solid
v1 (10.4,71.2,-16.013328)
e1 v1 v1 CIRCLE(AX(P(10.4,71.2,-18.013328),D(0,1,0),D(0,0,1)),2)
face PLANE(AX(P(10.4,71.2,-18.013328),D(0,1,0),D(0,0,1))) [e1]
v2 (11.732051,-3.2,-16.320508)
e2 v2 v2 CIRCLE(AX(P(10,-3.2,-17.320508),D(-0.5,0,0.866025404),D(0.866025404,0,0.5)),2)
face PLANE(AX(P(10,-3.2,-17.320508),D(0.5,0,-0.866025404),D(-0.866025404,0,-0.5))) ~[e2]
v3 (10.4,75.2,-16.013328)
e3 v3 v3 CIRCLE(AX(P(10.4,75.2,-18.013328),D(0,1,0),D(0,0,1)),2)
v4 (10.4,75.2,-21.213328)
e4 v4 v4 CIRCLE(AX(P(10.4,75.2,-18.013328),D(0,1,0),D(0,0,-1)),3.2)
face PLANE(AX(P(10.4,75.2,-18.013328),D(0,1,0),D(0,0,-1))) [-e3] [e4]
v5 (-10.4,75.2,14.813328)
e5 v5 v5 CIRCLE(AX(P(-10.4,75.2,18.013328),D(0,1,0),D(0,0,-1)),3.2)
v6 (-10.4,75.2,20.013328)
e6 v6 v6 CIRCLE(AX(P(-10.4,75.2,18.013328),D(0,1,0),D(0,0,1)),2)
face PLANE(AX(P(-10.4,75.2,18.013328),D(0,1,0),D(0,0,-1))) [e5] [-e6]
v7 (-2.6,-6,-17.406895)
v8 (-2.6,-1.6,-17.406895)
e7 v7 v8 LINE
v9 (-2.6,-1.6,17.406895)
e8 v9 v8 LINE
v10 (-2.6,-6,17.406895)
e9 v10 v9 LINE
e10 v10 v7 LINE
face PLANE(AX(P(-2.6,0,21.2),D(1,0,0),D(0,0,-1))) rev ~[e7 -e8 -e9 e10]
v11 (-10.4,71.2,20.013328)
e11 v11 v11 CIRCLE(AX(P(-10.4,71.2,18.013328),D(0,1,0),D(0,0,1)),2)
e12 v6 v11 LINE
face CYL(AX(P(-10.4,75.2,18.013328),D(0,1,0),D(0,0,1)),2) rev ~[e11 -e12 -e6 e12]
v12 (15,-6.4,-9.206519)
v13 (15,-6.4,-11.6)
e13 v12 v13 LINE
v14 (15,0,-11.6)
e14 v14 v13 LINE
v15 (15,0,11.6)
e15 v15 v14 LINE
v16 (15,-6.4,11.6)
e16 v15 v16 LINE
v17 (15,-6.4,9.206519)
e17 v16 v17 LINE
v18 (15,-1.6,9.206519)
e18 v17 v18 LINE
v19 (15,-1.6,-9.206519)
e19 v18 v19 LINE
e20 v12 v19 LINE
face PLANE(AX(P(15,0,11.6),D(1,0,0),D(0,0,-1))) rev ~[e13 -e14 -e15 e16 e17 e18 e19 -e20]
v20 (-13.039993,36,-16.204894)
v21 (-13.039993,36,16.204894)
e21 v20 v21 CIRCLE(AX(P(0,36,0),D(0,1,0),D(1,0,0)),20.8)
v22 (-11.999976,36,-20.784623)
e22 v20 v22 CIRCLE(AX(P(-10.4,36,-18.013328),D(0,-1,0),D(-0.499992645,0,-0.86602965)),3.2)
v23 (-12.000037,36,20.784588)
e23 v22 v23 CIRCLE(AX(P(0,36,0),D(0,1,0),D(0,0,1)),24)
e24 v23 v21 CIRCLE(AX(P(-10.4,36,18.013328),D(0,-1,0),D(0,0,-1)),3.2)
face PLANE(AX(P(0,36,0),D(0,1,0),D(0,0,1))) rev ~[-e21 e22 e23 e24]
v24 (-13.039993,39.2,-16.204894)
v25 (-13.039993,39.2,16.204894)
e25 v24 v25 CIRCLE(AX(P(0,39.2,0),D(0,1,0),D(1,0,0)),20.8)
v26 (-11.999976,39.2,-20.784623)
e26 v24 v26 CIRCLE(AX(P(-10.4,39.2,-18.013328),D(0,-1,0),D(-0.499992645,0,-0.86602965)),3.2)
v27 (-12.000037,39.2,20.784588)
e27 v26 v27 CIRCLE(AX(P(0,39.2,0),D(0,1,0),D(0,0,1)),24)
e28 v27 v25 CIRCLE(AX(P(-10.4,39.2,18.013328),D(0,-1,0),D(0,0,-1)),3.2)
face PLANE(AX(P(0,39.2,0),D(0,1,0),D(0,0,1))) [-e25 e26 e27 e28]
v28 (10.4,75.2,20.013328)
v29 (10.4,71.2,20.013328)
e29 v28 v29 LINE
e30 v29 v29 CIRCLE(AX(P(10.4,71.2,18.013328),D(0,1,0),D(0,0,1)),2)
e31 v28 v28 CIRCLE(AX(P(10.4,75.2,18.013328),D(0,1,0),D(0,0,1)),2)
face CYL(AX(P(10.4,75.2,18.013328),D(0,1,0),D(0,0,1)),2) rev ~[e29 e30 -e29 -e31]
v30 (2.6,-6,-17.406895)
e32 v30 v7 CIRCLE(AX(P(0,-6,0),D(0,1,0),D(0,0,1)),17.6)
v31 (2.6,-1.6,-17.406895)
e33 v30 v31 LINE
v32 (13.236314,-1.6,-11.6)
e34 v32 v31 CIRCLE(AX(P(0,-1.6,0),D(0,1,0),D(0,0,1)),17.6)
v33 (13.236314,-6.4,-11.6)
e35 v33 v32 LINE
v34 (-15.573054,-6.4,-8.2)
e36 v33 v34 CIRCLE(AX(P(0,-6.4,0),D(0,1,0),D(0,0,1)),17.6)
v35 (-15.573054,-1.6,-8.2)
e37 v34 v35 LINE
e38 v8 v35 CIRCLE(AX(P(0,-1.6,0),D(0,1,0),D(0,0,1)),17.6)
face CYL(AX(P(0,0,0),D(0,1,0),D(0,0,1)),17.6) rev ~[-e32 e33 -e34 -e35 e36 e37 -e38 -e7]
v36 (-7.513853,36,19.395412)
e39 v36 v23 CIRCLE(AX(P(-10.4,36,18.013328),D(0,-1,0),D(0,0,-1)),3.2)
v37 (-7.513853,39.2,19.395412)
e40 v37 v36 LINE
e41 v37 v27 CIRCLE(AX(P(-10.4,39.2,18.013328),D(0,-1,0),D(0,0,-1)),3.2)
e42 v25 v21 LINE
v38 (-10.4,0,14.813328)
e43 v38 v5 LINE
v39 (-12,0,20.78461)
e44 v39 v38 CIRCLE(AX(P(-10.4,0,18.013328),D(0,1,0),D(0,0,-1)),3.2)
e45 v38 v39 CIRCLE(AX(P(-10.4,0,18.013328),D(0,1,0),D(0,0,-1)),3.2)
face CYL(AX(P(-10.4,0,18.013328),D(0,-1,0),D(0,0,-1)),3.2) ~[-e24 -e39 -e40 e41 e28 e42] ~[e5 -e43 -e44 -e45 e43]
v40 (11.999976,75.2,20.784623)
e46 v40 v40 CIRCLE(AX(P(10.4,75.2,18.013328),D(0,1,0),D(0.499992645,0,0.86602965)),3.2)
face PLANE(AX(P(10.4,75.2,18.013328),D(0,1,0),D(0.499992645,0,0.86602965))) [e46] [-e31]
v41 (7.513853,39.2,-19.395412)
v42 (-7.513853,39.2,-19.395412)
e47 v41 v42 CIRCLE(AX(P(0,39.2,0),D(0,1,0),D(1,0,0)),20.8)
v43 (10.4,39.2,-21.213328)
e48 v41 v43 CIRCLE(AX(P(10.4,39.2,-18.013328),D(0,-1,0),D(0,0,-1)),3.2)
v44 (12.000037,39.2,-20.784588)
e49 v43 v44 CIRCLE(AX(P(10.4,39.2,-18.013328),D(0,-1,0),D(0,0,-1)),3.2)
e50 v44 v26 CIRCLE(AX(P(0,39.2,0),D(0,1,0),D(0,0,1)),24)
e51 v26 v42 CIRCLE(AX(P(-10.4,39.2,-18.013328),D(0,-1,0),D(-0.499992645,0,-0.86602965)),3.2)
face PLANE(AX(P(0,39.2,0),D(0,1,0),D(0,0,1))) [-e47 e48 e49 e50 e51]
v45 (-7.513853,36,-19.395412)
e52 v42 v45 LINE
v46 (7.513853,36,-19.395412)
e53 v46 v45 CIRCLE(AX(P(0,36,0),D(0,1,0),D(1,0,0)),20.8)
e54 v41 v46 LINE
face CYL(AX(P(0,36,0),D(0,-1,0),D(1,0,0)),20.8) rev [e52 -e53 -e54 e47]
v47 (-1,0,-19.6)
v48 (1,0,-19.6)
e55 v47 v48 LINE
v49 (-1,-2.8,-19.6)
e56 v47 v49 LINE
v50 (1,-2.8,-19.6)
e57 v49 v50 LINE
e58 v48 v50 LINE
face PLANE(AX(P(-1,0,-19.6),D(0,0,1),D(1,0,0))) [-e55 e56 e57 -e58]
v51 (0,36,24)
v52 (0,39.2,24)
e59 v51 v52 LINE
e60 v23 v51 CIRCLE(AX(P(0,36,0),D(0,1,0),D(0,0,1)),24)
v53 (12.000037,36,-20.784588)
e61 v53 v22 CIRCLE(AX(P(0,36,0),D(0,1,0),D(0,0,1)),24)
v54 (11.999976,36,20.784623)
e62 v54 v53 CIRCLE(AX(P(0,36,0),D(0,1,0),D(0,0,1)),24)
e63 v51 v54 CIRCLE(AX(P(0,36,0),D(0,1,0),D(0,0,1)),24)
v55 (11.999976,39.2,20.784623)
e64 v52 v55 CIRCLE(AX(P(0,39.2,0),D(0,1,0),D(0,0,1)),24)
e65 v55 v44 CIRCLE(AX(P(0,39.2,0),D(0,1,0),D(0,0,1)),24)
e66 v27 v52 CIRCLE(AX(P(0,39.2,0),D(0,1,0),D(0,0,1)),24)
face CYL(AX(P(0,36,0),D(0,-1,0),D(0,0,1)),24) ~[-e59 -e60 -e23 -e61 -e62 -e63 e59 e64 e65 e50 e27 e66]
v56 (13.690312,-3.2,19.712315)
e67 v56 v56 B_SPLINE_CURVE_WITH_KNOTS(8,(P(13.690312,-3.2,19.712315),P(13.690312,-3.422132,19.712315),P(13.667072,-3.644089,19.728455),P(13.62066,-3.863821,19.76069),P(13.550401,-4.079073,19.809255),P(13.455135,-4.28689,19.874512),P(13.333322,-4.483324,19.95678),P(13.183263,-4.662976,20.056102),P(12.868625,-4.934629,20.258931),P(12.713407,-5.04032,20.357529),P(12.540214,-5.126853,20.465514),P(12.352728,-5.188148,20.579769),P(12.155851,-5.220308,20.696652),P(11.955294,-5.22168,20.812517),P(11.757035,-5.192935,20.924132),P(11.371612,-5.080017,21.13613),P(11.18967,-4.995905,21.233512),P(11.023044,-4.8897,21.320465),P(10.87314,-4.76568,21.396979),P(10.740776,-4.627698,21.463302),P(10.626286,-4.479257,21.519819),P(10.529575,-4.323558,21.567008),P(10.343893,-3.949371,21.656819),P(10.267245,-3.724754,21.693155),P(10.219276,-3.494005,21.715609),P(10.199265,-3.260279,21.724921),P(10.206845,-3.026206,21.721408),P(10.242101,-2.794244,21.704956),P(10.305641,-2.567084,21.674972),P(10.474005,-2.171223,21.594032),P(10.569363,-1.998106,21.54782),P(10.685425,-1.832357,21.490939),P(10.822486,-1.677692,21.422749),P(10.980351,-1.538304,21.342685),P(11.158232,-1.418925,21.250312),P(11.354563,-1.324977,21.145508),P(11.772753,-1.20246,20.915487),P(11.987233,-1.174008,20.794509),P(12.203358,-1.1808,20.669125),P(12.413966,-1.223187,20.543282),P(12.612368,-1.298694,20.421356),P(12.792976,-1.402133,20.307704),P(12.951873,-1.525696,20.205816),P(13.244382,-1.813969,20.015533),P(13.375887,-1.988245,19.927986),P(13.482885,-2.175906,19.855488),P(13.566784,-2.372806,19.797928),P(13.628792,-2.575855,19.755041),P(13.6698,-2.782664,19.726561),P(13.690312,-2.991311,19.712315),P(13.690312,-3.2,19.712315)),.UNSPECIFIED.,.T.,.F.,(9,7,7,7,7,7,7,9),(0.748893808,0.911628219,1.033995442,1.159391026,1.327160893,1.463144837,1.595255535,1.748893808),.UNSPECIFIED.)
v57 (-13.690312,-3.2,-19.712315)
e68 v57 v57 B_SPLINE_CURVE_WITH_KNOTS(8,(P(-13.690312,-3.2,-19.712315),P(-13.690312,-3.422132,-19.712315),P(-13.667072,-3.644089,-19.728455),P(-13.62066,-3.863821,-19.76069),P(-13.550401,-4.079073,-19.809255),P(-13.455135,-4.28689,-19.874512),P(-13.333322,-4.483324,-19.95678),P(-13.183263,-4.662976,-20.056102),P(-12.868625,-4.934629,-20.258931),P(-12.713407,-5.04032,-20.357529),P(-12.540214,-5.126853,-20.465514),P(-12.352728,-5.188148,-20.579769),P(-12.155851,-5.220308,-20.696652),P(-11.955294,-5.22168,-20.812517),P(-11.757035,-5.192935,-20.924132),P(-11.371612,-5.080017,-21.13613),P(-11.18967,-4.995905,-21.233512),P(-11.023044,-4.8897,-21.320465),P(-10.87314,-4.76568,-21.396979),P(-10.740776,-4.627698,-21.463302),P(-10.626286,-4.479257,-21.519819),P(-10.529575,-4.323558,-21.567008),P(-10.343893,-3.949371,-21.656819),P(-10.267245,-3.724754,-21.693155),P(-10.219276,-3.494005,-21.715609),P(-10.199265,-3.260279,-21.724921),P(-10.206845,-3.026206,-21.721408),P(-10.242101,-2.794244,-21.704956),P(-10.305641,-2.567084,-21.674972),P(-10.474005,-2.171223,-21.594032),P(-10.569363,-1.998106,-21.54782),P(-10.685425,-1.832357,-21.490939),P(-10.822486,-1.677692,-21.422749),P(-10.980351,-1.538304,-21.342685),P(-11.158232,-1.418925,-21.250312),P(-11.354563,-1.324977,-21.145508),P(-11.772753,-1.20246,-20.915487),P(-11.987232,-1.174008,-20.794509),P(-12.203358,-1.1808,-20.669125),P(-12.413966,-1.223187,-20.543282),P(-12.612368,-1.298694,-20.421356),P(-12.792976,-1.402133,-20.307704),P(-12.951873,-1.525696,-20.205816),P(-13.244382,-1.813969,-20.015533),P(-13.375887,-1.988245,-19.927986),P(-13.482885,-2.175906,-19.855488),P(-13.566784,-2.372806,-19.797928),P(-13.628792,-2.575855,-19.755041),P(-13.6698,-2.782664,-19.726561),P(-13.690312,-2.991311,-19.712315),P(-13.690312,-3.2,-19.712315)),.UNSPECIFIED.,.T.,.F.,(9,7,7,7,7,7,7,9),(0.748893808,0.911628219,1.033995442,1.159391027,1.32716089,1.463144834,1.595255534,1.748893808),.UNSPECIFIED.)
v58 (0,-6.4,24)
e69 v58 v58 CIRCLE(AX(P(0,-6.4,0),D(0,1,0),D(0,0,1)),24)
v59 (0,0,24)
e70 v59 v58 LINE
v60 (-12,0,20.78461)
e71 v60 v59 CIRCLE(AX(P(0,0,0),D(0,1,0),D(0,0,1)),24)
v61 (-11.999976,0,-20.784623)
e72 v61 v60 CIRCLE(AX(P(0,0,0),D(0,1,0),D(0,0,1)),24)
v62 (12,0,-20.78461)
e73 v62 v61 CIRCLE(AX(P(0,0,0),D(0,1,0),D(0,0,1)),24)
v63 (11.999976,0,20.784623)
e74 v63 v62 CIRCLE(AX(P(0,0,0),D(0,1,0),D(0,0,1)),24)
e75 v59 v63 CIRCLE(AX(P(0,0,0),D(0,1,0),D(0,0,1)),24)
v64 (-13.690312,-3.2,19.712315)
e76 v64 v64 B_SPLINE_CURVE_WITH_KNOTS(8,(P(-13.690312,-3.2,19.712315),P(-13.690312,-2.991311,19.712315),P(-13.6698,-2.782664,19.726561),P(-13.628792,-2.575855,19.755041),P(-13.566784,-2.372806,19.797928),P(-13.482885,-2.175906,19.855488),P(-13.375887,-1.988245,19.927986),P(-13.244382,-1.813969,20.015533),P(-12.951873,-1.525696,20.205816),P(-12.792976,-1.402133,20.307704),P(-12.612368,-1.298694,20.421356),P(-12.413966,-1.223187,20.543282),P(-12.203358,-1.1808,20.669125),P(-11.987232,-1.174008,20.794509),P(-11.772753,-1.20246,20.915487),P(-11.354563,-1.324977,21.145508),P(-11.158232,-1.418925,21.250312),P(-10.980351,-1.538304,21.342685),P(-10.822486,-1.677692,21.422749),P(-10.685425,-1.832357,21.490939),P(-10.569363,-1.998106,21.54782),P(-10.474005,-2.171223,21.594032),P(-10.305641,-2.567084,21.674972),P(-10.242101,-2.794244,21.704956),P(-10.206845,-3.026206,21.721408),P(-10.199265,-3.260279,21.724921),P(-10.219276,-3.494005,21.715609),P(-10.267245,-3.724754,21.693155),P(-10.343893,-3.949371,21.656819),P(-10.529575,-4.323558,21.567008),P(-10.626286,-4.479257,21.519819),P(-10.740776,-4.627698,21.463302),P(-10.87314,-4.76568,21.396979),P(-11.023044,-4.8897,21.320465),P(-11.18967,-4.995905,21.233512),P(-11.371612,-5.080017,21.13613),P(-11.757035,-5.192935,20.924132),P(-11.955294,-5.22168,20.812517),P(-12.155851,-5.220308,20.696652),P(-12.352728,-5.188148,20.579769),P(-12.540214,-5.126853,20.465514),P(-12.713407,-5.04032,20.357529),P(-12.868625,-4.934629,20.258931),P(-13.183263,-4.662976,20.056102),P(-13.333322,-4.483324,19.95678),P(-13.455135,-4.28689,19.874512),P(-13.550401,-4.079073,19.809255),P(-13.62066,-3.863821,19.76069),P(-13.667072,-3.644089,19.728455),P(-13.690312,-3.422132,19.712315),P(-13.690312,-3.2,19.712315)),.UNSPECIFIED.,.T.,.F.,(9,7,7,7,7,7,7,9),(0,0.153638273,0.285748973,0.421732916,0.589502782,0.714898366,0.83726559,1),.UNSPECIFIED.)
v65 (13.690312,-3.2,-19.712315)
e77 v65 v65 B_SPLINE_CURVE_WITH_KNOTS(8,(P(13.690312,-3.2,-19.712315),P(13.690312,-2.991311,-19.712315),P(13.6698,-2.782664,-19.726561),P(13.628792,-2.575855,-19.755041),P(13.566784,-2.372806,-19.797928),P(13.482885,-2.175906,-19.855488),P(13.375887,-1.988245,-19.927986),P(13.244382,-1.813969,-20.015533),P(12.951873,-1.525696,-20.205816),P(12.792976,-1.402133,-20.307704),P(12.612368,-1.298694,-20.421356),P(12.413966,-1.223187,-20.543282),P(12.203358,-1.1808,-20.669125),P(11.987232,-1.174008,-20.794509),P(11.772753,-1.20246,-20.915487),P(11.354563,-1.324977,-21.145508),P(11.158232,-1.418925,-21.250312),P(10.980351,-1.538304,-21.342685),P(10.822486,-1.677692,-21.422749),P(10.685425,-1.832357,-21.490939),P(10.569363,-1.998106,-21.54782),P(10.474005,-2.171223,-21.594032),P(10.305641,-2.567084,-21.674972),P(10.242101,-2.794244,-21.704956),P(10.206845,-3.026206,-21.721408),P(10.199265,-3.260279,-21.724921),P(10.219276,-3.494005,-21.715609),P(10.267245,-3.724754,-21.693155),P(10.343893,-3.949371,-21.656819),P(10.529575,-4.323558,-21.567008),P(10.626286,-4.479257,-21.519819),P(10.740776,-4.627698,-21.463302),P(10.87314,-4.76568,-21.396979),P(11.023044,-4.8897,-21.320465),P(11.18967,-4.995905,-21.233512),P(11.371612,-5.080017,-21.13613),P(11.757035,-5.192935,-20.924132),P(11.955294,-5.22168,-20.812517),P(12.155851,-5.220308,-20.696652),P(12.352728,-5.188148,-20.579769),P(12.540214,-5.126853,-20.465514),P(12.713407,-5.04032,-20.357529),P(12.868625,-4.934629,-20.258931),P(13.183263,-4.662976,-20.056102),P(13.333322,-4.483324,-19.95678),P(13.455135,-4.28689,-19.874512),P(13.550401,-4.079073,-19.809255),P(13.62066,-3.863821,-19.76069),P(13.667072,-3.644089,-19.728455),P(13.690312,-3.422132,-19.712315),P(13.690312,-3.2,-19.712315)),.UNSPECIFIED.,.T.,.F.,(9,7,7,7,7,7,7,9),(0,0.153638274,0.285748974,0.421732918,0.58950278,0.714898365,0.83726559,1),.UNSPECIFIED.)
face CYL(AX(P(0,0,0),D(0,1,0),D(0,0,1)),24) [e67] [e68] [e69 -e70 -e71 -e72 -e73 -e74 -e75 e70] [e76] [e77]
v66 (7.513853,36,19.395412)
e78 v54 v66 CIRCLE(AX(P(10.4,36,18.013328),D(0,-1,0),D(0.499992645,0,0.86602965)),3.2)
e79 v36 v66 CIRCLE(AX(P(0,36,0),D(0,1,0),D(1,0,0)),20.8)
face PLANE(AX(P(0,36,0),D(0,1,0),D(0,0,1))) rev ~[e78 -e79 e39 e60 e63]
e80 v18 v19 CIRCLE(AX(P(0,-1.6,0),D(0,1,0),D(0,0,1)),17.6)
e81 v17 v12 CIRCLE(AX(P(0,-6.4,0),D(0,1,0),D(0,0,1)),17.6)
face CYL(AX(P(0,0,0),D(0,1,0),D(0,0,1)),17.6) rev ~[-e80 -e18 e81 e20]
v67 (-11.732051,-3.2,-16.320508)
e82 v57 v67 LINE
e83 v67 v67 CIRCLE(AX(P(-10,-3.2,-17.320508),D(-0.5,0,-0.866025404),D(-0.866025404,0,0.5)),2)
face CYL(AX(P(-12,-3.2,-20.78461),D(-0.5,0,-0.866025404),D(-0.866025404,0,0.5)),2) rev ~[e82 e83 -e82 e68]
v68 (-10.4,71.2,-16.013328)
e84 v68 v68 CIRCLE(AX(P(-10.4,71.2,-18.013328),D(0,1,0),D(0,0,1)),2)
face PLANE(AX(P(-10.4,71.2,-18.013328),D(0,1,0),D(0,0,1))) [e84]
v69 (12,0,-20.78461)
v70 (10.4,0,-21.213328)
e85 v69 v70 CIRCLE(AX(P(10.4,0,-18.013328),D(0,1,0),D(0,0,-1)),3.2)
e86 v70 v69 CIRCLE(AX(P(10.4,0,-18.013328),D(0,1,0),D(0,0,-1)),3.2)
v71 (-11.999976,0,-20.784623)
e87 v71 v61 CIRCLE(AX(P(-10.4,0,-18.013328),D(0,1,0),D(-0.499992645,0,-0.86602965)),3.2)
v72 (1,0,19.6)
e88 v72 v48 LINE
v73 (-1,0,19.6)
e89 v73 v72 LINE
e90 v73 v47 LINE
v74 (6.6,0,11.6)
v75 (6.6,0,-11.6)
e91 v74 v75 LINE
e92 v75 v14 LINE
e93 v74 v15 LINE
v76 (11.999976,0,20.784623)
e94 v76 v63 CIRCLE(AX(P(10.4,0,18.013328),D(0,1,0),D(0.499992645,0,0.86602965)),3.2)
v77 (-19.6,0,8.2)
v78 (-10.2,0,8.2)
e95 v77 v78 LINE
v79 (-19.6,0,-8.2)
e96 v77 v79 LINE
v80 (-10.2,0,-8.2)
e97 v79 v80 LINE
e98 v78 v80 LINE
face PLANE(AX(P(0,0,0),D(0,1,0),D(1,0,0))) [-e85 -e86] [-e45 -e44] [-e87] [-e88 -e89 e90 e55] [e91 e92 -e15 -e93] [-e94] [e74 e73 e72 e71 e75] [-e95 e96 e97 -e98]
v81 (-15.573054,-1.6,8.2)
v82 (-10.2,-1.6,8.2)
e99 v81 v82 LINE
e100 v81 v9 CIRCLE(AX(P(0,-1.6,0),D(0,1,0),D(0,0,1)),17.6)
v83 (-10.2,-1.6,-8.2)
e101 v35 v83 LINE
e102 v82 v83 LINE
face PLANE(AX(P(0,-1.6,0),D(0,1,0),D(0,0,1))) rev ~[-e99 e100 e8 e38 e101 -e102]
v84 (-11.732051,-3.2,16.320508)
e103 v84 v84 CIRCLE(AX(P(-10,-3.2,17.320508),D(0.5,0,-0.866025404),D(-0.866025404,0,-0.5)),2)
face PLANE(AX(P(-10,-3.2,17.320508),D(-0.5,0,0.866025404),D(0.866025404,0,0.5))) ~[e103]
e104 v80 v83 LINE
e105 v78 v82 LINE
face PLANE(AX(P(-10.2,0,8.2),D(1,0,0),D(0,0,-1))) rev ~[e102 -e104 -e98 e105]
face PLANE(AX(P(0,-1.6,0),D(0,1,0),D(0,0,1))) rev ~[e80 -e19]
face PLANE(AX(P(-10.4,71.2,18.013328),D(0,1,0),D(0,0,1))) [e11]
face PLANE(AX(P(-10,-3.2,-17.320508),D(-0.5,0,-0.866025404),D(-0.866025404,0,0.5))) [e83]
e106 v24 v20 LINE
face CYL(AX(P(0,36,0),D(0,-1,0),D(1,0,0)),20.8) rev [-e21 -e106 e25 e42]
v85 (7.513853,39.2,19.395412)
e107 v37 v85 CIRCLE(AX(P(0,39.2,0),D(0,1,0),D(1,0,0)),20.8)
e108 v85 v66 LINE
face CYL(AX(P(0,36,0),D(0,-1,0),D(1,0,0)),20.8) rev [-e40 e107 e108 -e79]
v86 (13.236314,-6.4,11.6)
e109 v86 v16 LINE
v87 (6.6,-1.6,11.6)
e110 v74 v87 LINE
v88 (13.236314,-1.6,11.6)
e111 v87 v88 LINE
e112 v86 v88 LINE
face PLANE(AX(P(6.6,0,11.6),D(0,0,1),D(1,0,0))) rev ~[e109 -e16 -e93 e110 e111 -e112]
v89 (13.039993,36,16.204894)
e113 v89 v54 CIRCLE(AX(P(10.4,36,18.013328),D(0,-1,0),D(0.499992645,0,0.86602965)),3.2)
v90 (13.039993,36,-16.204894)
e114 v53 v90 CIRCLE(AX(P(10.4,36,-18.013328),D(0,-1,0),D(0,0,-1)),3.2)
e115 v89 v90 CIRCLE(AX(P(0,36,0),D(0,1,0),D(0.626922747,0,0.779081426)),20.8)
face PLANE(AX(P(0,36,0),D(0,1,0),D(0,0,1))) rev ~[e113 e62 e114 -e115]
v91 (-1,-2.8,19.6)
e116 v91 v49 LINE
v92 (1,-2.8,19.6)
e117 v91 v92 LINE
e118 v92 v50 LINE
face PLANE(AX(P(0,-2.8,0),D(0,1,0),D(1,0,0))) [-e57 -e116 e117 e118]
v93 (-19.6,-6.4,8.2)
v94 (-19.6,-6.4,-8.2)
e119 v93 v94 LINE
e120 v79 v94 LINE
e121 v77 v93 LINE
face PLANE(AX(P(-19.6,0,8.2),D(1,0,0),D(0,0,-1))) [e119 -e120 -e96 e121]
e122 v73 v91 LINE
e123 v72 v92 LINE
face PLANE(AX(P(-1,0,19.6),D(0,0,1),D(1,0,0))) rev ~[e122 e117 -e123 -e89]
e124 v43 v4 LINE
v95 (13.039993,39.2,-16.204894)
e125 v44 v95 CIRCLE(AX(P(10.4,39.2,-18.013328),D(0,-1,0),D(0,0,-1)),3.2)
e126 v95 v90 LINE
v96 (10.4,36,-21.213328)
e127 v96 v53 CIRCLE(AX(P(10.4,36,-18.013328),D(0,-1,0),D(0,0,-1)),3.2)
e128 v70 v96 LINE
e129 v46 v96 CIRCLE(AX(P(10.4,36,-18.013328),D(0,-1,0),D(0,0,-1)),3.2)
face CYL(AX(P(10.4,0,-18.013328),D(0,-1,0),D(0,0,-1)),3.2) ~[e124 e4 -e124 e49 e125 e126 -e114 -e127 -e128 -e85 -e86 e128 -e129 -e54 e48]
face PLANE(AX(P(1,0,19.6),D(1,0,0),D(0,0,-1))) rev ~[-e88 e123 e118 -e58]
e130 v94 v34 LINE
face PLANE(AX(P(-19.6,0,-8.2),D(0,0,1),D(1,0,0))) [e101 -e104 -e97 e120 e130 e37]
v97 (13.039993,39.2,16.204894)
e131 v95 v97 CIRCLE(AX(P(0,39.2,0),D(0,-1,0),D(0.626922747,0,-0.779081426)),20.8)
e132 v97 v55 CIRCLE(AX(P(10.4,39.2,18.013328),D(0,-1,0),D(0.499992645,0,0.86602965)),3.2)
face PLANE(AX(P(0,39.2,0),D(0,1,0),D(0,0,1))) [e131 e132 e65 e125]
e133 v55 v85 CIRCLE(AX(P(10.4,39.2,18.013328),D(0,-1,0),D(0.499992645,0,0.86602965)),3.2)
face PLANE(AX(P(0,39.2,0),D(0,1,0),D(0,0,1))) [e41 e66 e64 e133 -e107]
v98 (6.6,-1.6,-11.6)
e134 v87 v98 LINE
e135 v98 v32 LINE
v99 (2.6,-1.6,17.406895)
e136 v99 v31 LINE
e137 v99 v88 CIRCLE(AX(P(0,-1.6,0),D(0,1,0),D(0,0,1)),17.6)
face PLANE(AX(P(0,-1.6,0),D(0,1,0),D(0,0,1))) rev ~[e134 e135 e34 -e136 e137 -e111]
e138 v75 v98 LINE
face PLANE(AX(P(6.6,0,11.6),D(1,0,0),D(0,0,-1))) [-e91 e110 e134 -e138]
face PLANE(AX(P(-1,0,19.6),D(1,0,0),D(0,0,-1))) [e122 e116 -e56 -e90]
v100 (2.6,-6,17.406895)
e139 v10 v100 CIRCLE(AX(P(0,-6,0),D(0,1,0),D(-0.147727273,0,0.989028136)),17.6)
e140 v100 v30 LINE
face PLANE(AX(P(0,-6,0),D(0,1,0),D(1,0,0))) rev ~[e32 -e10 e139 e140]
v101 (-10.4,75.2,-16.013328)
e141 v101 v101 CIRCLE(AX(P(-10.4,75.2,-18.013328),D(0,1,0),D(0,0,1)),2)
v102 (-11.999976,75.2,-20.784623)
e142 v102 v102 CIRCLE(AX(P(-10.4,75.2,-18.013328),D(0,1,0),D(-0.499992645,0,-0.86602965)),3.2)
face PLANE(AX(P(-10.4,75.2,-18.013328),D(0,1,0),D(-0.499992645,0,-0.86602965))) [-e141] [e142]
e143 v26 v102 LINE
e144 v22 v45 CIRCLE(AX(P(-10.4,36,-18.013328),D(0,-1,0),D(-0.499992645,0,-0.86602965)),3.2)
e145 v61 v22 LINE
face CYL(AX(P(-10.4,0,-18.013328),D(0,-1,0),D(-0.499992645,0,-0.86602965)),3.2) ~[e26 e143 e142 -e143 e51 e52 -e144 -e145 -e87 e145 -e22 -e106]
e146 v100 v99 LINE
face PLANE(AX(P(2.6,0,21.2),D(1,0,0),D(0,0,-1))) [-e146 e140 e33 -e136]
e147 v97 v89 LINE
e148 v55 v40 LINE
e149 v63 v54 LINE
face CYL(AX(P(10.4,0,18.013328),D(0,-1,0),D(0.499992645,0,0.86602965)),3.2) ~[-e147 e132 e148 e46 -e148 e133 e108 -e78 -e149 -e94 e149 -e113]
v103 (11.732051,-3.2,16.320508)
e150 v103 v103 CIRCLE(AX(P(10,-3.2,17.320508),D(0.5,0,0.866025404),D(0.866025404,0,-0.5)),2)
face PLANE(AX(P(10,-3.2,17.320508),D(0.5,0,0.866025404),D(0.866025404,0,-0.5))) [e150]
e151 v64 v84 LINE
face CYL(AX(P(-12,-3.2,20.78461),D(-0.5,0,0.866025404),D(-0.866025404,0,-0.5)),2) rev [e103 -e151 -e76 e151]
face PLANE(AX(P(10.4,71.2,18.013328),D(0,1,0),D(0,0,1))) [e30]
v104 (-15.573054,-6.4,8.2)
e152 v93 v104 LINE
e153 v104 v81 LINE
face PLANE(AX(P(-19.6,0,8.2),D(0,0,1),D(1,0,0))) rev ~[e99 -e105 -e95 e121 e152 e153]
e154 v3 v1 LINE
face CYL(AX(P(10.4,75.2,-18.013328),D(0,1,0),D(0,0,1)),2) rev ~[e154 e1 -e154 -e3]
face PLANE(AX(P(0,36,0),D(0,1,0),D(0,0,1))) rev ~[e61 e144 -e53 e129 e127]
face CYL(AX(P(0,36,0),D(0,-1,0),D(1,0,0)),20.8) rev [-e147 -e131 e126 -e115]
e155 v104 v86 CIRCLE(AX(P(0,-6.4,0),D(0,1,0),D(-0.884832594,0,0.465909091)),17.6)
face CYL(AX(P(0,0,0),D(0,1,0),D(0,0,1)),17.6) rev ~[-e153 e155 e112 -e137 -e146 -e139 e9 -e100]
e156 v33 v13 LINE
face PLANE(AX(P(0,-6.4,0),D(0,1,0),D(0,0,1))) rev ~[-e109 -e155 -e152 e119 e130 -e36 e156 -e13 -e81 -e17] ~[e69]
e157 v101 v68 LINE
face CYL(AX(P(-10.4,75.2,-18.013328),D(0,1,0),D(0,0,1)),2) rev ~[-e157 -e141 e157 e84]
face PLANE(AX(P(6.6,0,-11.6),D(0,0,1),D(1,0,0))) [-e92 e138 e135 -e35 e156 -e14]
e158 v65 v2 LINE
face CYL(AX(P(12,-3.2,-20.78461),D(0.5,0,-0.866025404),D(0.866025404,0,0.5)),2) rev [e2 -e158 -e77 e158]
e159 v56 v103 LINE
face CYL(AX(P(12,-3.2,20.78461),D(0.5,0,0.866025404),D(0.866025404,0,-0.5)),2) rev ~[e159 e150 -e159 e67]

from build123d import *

# Parameters (mm, degrees)
SKETCH_1_R               = 17.6
EXTRUDE_1_DEPTH          = 1.6
SKETCH_1_3_R             = 24
SKETCH_1_3_R_2           = 17.6
EXTRUDE_2_DEPTH          = 6.4
SKETCH_1_4_W             = 5.2
SKETCH_1_4_H             = 42.4
EXTRUDE_3_DEPTH          = 6
SKETCH_1_5_W             = 2
SKETCH_1_5_H             = 39.2
CUT_EXTRUDE_1_DEPTH      = 2.8
SKETCH_1_6_W             = 8.4
SKETCH_1_6_H             = 23.2
SKETCH_1_6_W_2           = 9.4
SKETCH_1_6_H_2           = 16.4
CUT_EXTRUDE_2_DEPTH      = 10
SKETCH_1_7_R             = 3.2
EXTRUDE_4_DEPTH          = 75.2
EXTRUDE_5_DEPTH          = 1.6
EXTRUDE_5_DEPTH_BACK     = 1.6
SKETCH_2_R               = 24
SKETCH_2_R_2             = 20.8
SKETCH_3_R               = 2
CUT_EXTRUDE_3_DEPTH      = 4
SKETCH_4_R               = 2
CUT_EXTRUDE_4_DEPTH      = 4
MIRROR_2_COPY_1_SKETCH_R = 2
MIRROR_2_COPY_1_DEPTH    = 4
MIRROR_2_COPY_2_SKETCH_R = 2
MIRROR_2_COPY_2_DEPTH    = 4


with BuildPart() as part:
    # 草圖1 → 填料-伸長1 (new body)
    with BuildSketch(Plane(origin=(0, 0, 0), x_dir=(1, 0, 0), z_dir=(0, 1, 0))):
        Circle(SKETCH_1_R)
    extrude(amount=-EXTRUDE_1_DEPTH)

    # 草圖1<3> → 填料-伸長2 (add)
    with BuildSketch(Plane(origin=(0, 0, 0), x_dir=(1, 0, 0), z_dir=(0, 1, 0))):
        Circle(SKETCH_1_3_R)
        Circle(SKETCH_1_3_R_2, mode=Mode.SUBTRACT)
    extrude(amount=-EXTRUDE_2_DEPTH)

    # 草圖1<4> → 填料-伸長3 (add)
    with BuildSketch(Plane(origin=(0, 0, 0), x_dir=(1, 0, 0), z_dir=(0, 1, 0))):
        Rectangle(SKETCH_1_4_W, SKETCH_1_4_H)
    extrude(amount=-EXTRUDE_3_DEPTH)

    # 草圖1<5> → 除料-伸長1 (cut)
    with BuildSketch(Plane(origin=(0, 0, 0), x_dir=(1, 0, 0), z_dir=(0, 1, 0))):
        Rectangle(SKETCH_1_5_W, SKETCH_1_5_H)
    extrude(amount=-CUT_EXTRUDE_1_DEPTH, mode=Mode.SUBTRACT)

    # 草圖1<6> → 除料-伸長2 (cut)
    with BuildSketch(Plane(origin=(0, 0, 0), x_dir=(1, 0, 0), z_dir=(0, 1, 0))):
        with Locations((10.8, 0)):
            Rectangle(SKETCH_1_6_W, SKETCH_1_6_H)
        with Locations((-14.9, 0)):
            Rectangle(SKETCH_1_6_W_2, SKETCH_1_6_H_2)
    extrude(amount=-CUT_EXTRUDE_2_DEPTH, mode=Mode.SUBTRACT)

    # 草圖1<7> → 填料-伸長4 (add)
    with BuildSketch(Plane(origin=(0, 0, 0), x_dir=(1, 0, 0), z_dir=(0, 1, 0))):
        with Locations((-10.4, 18.013328399)):
            Circle(SKETCH_1_7_R)
        with Locations((10.4, 18.013328399)):
            Circle(SKETCH_1_7_R)
        with Locations((10.4, -18.013328399)):
            Circle(SKETCH_1_7_R)
        with Locations((-10.4, -18.013328399)):
            Circle(SKETCH_1_7_R)
    extrude(amount=EXTRUDE_4_DEPTH)

    # 草圖2 → 填料-伸長5 (add, two sides: drawn at the far end of the back side and taken through both)
    with BuildSketch(Plane(origin=(0, 37.6, 0), x_dir=(1, 0, 0), z_dir=(0, 1, 0)).offset(-EXTRUDE_5_DEPTH_BACK)):
        Circle(SKETCH_2_R)
        Circle(SKETCH_2_R_2, mode=Mode.SUBTRACT)
    extrude(amount=EXTRUDE_5_DEPTH + EXTRUDE_5_DEPTH_BACK)

    # 草圖3 → 除料-伸長3 (cut)
    with BuildSketch(Plane(origin=(0, 75.2, 0), x_dir=(1, 0, 0), z_dir=(0, 1, 0))):
        with Locations((-10.4, 18.013328399)):
            Circle(SKETCH_3_R)
        with Locations((10.4, 18.013328399)):
            Circle(SKETCH_3_R)
        with Locations((10.4, -18.013328399)):
            Circle(SKETCH_3_R)
        with Locations((-10.4, -18.013328399)):
            Circle(SKETCH_3_R)
    extrude(amount=-CUT_EXTRUDE_3_DEPTH, mode=Mode.SUBTRACT)

    # 草圖4 → 除料-伸長4 (cut)
    with BuildSketch(Plane(origin=(-12, 0, -20.784609691), x_dir=(-0.8660254037844363, 0, 0.5000000000000042), z_dir=(-0.5000000000000042, 0, -0.8660254037844363))):
        with Locations((0, -3.2)):
            Circle(SKETCH_4_R)
    cut_extrude_4 = extrude(amount=-CUT_EXTRUDE_4_DEPTH, mode=Mode.SUBTRACT)

    # 鏡射1: 除料-伸長4 across plane
    add(cut_extrude_4.mirror(Plane(origin=(0, 0, 0), x_dir=(0, 0, 1), z_dir=(1, 0, 0))), mode=Mode.SUBTRACT)

    # 鏡射2 copy 1 sketch → 鏡射2 copy 1 (cut)
    with BuildSketch(Plane(origin=(12, 0, 20.784609691), x_dir=(0.8660254037844363, 0, -0.5000000000000042), z_dir=(0.5000000000000042, 0, 0.8660254037844363))):
        with Locations((0, -3.2)):
            Circle(MIRROR_2_COPY_1_SKETCH_R)
    extrude(amount=-MIRROR_2_COPY_1_DEPTH, mode=Mode.SUBTRACT)

    # 鏡射2 copy 2 sketch → 鏡射2 copy 2 (cut)
    with BuildSketch(Plane(origin=(-12, 0, 20.784609691), x_dir=(-0.8660254037844363, 0, -0.5000000000000042), z_dir=(-0.5000000000000042, 0, 0.8660254037844363))):
        with Locations((0, 3.2)):
            Circle(MIRROR_2_COPY_2_SKETCH_R)
    extrude(amount=-MIRROR_2_COPY_2_DEPTH, mode=Mode.SUBTRACT)


solid = part.part
